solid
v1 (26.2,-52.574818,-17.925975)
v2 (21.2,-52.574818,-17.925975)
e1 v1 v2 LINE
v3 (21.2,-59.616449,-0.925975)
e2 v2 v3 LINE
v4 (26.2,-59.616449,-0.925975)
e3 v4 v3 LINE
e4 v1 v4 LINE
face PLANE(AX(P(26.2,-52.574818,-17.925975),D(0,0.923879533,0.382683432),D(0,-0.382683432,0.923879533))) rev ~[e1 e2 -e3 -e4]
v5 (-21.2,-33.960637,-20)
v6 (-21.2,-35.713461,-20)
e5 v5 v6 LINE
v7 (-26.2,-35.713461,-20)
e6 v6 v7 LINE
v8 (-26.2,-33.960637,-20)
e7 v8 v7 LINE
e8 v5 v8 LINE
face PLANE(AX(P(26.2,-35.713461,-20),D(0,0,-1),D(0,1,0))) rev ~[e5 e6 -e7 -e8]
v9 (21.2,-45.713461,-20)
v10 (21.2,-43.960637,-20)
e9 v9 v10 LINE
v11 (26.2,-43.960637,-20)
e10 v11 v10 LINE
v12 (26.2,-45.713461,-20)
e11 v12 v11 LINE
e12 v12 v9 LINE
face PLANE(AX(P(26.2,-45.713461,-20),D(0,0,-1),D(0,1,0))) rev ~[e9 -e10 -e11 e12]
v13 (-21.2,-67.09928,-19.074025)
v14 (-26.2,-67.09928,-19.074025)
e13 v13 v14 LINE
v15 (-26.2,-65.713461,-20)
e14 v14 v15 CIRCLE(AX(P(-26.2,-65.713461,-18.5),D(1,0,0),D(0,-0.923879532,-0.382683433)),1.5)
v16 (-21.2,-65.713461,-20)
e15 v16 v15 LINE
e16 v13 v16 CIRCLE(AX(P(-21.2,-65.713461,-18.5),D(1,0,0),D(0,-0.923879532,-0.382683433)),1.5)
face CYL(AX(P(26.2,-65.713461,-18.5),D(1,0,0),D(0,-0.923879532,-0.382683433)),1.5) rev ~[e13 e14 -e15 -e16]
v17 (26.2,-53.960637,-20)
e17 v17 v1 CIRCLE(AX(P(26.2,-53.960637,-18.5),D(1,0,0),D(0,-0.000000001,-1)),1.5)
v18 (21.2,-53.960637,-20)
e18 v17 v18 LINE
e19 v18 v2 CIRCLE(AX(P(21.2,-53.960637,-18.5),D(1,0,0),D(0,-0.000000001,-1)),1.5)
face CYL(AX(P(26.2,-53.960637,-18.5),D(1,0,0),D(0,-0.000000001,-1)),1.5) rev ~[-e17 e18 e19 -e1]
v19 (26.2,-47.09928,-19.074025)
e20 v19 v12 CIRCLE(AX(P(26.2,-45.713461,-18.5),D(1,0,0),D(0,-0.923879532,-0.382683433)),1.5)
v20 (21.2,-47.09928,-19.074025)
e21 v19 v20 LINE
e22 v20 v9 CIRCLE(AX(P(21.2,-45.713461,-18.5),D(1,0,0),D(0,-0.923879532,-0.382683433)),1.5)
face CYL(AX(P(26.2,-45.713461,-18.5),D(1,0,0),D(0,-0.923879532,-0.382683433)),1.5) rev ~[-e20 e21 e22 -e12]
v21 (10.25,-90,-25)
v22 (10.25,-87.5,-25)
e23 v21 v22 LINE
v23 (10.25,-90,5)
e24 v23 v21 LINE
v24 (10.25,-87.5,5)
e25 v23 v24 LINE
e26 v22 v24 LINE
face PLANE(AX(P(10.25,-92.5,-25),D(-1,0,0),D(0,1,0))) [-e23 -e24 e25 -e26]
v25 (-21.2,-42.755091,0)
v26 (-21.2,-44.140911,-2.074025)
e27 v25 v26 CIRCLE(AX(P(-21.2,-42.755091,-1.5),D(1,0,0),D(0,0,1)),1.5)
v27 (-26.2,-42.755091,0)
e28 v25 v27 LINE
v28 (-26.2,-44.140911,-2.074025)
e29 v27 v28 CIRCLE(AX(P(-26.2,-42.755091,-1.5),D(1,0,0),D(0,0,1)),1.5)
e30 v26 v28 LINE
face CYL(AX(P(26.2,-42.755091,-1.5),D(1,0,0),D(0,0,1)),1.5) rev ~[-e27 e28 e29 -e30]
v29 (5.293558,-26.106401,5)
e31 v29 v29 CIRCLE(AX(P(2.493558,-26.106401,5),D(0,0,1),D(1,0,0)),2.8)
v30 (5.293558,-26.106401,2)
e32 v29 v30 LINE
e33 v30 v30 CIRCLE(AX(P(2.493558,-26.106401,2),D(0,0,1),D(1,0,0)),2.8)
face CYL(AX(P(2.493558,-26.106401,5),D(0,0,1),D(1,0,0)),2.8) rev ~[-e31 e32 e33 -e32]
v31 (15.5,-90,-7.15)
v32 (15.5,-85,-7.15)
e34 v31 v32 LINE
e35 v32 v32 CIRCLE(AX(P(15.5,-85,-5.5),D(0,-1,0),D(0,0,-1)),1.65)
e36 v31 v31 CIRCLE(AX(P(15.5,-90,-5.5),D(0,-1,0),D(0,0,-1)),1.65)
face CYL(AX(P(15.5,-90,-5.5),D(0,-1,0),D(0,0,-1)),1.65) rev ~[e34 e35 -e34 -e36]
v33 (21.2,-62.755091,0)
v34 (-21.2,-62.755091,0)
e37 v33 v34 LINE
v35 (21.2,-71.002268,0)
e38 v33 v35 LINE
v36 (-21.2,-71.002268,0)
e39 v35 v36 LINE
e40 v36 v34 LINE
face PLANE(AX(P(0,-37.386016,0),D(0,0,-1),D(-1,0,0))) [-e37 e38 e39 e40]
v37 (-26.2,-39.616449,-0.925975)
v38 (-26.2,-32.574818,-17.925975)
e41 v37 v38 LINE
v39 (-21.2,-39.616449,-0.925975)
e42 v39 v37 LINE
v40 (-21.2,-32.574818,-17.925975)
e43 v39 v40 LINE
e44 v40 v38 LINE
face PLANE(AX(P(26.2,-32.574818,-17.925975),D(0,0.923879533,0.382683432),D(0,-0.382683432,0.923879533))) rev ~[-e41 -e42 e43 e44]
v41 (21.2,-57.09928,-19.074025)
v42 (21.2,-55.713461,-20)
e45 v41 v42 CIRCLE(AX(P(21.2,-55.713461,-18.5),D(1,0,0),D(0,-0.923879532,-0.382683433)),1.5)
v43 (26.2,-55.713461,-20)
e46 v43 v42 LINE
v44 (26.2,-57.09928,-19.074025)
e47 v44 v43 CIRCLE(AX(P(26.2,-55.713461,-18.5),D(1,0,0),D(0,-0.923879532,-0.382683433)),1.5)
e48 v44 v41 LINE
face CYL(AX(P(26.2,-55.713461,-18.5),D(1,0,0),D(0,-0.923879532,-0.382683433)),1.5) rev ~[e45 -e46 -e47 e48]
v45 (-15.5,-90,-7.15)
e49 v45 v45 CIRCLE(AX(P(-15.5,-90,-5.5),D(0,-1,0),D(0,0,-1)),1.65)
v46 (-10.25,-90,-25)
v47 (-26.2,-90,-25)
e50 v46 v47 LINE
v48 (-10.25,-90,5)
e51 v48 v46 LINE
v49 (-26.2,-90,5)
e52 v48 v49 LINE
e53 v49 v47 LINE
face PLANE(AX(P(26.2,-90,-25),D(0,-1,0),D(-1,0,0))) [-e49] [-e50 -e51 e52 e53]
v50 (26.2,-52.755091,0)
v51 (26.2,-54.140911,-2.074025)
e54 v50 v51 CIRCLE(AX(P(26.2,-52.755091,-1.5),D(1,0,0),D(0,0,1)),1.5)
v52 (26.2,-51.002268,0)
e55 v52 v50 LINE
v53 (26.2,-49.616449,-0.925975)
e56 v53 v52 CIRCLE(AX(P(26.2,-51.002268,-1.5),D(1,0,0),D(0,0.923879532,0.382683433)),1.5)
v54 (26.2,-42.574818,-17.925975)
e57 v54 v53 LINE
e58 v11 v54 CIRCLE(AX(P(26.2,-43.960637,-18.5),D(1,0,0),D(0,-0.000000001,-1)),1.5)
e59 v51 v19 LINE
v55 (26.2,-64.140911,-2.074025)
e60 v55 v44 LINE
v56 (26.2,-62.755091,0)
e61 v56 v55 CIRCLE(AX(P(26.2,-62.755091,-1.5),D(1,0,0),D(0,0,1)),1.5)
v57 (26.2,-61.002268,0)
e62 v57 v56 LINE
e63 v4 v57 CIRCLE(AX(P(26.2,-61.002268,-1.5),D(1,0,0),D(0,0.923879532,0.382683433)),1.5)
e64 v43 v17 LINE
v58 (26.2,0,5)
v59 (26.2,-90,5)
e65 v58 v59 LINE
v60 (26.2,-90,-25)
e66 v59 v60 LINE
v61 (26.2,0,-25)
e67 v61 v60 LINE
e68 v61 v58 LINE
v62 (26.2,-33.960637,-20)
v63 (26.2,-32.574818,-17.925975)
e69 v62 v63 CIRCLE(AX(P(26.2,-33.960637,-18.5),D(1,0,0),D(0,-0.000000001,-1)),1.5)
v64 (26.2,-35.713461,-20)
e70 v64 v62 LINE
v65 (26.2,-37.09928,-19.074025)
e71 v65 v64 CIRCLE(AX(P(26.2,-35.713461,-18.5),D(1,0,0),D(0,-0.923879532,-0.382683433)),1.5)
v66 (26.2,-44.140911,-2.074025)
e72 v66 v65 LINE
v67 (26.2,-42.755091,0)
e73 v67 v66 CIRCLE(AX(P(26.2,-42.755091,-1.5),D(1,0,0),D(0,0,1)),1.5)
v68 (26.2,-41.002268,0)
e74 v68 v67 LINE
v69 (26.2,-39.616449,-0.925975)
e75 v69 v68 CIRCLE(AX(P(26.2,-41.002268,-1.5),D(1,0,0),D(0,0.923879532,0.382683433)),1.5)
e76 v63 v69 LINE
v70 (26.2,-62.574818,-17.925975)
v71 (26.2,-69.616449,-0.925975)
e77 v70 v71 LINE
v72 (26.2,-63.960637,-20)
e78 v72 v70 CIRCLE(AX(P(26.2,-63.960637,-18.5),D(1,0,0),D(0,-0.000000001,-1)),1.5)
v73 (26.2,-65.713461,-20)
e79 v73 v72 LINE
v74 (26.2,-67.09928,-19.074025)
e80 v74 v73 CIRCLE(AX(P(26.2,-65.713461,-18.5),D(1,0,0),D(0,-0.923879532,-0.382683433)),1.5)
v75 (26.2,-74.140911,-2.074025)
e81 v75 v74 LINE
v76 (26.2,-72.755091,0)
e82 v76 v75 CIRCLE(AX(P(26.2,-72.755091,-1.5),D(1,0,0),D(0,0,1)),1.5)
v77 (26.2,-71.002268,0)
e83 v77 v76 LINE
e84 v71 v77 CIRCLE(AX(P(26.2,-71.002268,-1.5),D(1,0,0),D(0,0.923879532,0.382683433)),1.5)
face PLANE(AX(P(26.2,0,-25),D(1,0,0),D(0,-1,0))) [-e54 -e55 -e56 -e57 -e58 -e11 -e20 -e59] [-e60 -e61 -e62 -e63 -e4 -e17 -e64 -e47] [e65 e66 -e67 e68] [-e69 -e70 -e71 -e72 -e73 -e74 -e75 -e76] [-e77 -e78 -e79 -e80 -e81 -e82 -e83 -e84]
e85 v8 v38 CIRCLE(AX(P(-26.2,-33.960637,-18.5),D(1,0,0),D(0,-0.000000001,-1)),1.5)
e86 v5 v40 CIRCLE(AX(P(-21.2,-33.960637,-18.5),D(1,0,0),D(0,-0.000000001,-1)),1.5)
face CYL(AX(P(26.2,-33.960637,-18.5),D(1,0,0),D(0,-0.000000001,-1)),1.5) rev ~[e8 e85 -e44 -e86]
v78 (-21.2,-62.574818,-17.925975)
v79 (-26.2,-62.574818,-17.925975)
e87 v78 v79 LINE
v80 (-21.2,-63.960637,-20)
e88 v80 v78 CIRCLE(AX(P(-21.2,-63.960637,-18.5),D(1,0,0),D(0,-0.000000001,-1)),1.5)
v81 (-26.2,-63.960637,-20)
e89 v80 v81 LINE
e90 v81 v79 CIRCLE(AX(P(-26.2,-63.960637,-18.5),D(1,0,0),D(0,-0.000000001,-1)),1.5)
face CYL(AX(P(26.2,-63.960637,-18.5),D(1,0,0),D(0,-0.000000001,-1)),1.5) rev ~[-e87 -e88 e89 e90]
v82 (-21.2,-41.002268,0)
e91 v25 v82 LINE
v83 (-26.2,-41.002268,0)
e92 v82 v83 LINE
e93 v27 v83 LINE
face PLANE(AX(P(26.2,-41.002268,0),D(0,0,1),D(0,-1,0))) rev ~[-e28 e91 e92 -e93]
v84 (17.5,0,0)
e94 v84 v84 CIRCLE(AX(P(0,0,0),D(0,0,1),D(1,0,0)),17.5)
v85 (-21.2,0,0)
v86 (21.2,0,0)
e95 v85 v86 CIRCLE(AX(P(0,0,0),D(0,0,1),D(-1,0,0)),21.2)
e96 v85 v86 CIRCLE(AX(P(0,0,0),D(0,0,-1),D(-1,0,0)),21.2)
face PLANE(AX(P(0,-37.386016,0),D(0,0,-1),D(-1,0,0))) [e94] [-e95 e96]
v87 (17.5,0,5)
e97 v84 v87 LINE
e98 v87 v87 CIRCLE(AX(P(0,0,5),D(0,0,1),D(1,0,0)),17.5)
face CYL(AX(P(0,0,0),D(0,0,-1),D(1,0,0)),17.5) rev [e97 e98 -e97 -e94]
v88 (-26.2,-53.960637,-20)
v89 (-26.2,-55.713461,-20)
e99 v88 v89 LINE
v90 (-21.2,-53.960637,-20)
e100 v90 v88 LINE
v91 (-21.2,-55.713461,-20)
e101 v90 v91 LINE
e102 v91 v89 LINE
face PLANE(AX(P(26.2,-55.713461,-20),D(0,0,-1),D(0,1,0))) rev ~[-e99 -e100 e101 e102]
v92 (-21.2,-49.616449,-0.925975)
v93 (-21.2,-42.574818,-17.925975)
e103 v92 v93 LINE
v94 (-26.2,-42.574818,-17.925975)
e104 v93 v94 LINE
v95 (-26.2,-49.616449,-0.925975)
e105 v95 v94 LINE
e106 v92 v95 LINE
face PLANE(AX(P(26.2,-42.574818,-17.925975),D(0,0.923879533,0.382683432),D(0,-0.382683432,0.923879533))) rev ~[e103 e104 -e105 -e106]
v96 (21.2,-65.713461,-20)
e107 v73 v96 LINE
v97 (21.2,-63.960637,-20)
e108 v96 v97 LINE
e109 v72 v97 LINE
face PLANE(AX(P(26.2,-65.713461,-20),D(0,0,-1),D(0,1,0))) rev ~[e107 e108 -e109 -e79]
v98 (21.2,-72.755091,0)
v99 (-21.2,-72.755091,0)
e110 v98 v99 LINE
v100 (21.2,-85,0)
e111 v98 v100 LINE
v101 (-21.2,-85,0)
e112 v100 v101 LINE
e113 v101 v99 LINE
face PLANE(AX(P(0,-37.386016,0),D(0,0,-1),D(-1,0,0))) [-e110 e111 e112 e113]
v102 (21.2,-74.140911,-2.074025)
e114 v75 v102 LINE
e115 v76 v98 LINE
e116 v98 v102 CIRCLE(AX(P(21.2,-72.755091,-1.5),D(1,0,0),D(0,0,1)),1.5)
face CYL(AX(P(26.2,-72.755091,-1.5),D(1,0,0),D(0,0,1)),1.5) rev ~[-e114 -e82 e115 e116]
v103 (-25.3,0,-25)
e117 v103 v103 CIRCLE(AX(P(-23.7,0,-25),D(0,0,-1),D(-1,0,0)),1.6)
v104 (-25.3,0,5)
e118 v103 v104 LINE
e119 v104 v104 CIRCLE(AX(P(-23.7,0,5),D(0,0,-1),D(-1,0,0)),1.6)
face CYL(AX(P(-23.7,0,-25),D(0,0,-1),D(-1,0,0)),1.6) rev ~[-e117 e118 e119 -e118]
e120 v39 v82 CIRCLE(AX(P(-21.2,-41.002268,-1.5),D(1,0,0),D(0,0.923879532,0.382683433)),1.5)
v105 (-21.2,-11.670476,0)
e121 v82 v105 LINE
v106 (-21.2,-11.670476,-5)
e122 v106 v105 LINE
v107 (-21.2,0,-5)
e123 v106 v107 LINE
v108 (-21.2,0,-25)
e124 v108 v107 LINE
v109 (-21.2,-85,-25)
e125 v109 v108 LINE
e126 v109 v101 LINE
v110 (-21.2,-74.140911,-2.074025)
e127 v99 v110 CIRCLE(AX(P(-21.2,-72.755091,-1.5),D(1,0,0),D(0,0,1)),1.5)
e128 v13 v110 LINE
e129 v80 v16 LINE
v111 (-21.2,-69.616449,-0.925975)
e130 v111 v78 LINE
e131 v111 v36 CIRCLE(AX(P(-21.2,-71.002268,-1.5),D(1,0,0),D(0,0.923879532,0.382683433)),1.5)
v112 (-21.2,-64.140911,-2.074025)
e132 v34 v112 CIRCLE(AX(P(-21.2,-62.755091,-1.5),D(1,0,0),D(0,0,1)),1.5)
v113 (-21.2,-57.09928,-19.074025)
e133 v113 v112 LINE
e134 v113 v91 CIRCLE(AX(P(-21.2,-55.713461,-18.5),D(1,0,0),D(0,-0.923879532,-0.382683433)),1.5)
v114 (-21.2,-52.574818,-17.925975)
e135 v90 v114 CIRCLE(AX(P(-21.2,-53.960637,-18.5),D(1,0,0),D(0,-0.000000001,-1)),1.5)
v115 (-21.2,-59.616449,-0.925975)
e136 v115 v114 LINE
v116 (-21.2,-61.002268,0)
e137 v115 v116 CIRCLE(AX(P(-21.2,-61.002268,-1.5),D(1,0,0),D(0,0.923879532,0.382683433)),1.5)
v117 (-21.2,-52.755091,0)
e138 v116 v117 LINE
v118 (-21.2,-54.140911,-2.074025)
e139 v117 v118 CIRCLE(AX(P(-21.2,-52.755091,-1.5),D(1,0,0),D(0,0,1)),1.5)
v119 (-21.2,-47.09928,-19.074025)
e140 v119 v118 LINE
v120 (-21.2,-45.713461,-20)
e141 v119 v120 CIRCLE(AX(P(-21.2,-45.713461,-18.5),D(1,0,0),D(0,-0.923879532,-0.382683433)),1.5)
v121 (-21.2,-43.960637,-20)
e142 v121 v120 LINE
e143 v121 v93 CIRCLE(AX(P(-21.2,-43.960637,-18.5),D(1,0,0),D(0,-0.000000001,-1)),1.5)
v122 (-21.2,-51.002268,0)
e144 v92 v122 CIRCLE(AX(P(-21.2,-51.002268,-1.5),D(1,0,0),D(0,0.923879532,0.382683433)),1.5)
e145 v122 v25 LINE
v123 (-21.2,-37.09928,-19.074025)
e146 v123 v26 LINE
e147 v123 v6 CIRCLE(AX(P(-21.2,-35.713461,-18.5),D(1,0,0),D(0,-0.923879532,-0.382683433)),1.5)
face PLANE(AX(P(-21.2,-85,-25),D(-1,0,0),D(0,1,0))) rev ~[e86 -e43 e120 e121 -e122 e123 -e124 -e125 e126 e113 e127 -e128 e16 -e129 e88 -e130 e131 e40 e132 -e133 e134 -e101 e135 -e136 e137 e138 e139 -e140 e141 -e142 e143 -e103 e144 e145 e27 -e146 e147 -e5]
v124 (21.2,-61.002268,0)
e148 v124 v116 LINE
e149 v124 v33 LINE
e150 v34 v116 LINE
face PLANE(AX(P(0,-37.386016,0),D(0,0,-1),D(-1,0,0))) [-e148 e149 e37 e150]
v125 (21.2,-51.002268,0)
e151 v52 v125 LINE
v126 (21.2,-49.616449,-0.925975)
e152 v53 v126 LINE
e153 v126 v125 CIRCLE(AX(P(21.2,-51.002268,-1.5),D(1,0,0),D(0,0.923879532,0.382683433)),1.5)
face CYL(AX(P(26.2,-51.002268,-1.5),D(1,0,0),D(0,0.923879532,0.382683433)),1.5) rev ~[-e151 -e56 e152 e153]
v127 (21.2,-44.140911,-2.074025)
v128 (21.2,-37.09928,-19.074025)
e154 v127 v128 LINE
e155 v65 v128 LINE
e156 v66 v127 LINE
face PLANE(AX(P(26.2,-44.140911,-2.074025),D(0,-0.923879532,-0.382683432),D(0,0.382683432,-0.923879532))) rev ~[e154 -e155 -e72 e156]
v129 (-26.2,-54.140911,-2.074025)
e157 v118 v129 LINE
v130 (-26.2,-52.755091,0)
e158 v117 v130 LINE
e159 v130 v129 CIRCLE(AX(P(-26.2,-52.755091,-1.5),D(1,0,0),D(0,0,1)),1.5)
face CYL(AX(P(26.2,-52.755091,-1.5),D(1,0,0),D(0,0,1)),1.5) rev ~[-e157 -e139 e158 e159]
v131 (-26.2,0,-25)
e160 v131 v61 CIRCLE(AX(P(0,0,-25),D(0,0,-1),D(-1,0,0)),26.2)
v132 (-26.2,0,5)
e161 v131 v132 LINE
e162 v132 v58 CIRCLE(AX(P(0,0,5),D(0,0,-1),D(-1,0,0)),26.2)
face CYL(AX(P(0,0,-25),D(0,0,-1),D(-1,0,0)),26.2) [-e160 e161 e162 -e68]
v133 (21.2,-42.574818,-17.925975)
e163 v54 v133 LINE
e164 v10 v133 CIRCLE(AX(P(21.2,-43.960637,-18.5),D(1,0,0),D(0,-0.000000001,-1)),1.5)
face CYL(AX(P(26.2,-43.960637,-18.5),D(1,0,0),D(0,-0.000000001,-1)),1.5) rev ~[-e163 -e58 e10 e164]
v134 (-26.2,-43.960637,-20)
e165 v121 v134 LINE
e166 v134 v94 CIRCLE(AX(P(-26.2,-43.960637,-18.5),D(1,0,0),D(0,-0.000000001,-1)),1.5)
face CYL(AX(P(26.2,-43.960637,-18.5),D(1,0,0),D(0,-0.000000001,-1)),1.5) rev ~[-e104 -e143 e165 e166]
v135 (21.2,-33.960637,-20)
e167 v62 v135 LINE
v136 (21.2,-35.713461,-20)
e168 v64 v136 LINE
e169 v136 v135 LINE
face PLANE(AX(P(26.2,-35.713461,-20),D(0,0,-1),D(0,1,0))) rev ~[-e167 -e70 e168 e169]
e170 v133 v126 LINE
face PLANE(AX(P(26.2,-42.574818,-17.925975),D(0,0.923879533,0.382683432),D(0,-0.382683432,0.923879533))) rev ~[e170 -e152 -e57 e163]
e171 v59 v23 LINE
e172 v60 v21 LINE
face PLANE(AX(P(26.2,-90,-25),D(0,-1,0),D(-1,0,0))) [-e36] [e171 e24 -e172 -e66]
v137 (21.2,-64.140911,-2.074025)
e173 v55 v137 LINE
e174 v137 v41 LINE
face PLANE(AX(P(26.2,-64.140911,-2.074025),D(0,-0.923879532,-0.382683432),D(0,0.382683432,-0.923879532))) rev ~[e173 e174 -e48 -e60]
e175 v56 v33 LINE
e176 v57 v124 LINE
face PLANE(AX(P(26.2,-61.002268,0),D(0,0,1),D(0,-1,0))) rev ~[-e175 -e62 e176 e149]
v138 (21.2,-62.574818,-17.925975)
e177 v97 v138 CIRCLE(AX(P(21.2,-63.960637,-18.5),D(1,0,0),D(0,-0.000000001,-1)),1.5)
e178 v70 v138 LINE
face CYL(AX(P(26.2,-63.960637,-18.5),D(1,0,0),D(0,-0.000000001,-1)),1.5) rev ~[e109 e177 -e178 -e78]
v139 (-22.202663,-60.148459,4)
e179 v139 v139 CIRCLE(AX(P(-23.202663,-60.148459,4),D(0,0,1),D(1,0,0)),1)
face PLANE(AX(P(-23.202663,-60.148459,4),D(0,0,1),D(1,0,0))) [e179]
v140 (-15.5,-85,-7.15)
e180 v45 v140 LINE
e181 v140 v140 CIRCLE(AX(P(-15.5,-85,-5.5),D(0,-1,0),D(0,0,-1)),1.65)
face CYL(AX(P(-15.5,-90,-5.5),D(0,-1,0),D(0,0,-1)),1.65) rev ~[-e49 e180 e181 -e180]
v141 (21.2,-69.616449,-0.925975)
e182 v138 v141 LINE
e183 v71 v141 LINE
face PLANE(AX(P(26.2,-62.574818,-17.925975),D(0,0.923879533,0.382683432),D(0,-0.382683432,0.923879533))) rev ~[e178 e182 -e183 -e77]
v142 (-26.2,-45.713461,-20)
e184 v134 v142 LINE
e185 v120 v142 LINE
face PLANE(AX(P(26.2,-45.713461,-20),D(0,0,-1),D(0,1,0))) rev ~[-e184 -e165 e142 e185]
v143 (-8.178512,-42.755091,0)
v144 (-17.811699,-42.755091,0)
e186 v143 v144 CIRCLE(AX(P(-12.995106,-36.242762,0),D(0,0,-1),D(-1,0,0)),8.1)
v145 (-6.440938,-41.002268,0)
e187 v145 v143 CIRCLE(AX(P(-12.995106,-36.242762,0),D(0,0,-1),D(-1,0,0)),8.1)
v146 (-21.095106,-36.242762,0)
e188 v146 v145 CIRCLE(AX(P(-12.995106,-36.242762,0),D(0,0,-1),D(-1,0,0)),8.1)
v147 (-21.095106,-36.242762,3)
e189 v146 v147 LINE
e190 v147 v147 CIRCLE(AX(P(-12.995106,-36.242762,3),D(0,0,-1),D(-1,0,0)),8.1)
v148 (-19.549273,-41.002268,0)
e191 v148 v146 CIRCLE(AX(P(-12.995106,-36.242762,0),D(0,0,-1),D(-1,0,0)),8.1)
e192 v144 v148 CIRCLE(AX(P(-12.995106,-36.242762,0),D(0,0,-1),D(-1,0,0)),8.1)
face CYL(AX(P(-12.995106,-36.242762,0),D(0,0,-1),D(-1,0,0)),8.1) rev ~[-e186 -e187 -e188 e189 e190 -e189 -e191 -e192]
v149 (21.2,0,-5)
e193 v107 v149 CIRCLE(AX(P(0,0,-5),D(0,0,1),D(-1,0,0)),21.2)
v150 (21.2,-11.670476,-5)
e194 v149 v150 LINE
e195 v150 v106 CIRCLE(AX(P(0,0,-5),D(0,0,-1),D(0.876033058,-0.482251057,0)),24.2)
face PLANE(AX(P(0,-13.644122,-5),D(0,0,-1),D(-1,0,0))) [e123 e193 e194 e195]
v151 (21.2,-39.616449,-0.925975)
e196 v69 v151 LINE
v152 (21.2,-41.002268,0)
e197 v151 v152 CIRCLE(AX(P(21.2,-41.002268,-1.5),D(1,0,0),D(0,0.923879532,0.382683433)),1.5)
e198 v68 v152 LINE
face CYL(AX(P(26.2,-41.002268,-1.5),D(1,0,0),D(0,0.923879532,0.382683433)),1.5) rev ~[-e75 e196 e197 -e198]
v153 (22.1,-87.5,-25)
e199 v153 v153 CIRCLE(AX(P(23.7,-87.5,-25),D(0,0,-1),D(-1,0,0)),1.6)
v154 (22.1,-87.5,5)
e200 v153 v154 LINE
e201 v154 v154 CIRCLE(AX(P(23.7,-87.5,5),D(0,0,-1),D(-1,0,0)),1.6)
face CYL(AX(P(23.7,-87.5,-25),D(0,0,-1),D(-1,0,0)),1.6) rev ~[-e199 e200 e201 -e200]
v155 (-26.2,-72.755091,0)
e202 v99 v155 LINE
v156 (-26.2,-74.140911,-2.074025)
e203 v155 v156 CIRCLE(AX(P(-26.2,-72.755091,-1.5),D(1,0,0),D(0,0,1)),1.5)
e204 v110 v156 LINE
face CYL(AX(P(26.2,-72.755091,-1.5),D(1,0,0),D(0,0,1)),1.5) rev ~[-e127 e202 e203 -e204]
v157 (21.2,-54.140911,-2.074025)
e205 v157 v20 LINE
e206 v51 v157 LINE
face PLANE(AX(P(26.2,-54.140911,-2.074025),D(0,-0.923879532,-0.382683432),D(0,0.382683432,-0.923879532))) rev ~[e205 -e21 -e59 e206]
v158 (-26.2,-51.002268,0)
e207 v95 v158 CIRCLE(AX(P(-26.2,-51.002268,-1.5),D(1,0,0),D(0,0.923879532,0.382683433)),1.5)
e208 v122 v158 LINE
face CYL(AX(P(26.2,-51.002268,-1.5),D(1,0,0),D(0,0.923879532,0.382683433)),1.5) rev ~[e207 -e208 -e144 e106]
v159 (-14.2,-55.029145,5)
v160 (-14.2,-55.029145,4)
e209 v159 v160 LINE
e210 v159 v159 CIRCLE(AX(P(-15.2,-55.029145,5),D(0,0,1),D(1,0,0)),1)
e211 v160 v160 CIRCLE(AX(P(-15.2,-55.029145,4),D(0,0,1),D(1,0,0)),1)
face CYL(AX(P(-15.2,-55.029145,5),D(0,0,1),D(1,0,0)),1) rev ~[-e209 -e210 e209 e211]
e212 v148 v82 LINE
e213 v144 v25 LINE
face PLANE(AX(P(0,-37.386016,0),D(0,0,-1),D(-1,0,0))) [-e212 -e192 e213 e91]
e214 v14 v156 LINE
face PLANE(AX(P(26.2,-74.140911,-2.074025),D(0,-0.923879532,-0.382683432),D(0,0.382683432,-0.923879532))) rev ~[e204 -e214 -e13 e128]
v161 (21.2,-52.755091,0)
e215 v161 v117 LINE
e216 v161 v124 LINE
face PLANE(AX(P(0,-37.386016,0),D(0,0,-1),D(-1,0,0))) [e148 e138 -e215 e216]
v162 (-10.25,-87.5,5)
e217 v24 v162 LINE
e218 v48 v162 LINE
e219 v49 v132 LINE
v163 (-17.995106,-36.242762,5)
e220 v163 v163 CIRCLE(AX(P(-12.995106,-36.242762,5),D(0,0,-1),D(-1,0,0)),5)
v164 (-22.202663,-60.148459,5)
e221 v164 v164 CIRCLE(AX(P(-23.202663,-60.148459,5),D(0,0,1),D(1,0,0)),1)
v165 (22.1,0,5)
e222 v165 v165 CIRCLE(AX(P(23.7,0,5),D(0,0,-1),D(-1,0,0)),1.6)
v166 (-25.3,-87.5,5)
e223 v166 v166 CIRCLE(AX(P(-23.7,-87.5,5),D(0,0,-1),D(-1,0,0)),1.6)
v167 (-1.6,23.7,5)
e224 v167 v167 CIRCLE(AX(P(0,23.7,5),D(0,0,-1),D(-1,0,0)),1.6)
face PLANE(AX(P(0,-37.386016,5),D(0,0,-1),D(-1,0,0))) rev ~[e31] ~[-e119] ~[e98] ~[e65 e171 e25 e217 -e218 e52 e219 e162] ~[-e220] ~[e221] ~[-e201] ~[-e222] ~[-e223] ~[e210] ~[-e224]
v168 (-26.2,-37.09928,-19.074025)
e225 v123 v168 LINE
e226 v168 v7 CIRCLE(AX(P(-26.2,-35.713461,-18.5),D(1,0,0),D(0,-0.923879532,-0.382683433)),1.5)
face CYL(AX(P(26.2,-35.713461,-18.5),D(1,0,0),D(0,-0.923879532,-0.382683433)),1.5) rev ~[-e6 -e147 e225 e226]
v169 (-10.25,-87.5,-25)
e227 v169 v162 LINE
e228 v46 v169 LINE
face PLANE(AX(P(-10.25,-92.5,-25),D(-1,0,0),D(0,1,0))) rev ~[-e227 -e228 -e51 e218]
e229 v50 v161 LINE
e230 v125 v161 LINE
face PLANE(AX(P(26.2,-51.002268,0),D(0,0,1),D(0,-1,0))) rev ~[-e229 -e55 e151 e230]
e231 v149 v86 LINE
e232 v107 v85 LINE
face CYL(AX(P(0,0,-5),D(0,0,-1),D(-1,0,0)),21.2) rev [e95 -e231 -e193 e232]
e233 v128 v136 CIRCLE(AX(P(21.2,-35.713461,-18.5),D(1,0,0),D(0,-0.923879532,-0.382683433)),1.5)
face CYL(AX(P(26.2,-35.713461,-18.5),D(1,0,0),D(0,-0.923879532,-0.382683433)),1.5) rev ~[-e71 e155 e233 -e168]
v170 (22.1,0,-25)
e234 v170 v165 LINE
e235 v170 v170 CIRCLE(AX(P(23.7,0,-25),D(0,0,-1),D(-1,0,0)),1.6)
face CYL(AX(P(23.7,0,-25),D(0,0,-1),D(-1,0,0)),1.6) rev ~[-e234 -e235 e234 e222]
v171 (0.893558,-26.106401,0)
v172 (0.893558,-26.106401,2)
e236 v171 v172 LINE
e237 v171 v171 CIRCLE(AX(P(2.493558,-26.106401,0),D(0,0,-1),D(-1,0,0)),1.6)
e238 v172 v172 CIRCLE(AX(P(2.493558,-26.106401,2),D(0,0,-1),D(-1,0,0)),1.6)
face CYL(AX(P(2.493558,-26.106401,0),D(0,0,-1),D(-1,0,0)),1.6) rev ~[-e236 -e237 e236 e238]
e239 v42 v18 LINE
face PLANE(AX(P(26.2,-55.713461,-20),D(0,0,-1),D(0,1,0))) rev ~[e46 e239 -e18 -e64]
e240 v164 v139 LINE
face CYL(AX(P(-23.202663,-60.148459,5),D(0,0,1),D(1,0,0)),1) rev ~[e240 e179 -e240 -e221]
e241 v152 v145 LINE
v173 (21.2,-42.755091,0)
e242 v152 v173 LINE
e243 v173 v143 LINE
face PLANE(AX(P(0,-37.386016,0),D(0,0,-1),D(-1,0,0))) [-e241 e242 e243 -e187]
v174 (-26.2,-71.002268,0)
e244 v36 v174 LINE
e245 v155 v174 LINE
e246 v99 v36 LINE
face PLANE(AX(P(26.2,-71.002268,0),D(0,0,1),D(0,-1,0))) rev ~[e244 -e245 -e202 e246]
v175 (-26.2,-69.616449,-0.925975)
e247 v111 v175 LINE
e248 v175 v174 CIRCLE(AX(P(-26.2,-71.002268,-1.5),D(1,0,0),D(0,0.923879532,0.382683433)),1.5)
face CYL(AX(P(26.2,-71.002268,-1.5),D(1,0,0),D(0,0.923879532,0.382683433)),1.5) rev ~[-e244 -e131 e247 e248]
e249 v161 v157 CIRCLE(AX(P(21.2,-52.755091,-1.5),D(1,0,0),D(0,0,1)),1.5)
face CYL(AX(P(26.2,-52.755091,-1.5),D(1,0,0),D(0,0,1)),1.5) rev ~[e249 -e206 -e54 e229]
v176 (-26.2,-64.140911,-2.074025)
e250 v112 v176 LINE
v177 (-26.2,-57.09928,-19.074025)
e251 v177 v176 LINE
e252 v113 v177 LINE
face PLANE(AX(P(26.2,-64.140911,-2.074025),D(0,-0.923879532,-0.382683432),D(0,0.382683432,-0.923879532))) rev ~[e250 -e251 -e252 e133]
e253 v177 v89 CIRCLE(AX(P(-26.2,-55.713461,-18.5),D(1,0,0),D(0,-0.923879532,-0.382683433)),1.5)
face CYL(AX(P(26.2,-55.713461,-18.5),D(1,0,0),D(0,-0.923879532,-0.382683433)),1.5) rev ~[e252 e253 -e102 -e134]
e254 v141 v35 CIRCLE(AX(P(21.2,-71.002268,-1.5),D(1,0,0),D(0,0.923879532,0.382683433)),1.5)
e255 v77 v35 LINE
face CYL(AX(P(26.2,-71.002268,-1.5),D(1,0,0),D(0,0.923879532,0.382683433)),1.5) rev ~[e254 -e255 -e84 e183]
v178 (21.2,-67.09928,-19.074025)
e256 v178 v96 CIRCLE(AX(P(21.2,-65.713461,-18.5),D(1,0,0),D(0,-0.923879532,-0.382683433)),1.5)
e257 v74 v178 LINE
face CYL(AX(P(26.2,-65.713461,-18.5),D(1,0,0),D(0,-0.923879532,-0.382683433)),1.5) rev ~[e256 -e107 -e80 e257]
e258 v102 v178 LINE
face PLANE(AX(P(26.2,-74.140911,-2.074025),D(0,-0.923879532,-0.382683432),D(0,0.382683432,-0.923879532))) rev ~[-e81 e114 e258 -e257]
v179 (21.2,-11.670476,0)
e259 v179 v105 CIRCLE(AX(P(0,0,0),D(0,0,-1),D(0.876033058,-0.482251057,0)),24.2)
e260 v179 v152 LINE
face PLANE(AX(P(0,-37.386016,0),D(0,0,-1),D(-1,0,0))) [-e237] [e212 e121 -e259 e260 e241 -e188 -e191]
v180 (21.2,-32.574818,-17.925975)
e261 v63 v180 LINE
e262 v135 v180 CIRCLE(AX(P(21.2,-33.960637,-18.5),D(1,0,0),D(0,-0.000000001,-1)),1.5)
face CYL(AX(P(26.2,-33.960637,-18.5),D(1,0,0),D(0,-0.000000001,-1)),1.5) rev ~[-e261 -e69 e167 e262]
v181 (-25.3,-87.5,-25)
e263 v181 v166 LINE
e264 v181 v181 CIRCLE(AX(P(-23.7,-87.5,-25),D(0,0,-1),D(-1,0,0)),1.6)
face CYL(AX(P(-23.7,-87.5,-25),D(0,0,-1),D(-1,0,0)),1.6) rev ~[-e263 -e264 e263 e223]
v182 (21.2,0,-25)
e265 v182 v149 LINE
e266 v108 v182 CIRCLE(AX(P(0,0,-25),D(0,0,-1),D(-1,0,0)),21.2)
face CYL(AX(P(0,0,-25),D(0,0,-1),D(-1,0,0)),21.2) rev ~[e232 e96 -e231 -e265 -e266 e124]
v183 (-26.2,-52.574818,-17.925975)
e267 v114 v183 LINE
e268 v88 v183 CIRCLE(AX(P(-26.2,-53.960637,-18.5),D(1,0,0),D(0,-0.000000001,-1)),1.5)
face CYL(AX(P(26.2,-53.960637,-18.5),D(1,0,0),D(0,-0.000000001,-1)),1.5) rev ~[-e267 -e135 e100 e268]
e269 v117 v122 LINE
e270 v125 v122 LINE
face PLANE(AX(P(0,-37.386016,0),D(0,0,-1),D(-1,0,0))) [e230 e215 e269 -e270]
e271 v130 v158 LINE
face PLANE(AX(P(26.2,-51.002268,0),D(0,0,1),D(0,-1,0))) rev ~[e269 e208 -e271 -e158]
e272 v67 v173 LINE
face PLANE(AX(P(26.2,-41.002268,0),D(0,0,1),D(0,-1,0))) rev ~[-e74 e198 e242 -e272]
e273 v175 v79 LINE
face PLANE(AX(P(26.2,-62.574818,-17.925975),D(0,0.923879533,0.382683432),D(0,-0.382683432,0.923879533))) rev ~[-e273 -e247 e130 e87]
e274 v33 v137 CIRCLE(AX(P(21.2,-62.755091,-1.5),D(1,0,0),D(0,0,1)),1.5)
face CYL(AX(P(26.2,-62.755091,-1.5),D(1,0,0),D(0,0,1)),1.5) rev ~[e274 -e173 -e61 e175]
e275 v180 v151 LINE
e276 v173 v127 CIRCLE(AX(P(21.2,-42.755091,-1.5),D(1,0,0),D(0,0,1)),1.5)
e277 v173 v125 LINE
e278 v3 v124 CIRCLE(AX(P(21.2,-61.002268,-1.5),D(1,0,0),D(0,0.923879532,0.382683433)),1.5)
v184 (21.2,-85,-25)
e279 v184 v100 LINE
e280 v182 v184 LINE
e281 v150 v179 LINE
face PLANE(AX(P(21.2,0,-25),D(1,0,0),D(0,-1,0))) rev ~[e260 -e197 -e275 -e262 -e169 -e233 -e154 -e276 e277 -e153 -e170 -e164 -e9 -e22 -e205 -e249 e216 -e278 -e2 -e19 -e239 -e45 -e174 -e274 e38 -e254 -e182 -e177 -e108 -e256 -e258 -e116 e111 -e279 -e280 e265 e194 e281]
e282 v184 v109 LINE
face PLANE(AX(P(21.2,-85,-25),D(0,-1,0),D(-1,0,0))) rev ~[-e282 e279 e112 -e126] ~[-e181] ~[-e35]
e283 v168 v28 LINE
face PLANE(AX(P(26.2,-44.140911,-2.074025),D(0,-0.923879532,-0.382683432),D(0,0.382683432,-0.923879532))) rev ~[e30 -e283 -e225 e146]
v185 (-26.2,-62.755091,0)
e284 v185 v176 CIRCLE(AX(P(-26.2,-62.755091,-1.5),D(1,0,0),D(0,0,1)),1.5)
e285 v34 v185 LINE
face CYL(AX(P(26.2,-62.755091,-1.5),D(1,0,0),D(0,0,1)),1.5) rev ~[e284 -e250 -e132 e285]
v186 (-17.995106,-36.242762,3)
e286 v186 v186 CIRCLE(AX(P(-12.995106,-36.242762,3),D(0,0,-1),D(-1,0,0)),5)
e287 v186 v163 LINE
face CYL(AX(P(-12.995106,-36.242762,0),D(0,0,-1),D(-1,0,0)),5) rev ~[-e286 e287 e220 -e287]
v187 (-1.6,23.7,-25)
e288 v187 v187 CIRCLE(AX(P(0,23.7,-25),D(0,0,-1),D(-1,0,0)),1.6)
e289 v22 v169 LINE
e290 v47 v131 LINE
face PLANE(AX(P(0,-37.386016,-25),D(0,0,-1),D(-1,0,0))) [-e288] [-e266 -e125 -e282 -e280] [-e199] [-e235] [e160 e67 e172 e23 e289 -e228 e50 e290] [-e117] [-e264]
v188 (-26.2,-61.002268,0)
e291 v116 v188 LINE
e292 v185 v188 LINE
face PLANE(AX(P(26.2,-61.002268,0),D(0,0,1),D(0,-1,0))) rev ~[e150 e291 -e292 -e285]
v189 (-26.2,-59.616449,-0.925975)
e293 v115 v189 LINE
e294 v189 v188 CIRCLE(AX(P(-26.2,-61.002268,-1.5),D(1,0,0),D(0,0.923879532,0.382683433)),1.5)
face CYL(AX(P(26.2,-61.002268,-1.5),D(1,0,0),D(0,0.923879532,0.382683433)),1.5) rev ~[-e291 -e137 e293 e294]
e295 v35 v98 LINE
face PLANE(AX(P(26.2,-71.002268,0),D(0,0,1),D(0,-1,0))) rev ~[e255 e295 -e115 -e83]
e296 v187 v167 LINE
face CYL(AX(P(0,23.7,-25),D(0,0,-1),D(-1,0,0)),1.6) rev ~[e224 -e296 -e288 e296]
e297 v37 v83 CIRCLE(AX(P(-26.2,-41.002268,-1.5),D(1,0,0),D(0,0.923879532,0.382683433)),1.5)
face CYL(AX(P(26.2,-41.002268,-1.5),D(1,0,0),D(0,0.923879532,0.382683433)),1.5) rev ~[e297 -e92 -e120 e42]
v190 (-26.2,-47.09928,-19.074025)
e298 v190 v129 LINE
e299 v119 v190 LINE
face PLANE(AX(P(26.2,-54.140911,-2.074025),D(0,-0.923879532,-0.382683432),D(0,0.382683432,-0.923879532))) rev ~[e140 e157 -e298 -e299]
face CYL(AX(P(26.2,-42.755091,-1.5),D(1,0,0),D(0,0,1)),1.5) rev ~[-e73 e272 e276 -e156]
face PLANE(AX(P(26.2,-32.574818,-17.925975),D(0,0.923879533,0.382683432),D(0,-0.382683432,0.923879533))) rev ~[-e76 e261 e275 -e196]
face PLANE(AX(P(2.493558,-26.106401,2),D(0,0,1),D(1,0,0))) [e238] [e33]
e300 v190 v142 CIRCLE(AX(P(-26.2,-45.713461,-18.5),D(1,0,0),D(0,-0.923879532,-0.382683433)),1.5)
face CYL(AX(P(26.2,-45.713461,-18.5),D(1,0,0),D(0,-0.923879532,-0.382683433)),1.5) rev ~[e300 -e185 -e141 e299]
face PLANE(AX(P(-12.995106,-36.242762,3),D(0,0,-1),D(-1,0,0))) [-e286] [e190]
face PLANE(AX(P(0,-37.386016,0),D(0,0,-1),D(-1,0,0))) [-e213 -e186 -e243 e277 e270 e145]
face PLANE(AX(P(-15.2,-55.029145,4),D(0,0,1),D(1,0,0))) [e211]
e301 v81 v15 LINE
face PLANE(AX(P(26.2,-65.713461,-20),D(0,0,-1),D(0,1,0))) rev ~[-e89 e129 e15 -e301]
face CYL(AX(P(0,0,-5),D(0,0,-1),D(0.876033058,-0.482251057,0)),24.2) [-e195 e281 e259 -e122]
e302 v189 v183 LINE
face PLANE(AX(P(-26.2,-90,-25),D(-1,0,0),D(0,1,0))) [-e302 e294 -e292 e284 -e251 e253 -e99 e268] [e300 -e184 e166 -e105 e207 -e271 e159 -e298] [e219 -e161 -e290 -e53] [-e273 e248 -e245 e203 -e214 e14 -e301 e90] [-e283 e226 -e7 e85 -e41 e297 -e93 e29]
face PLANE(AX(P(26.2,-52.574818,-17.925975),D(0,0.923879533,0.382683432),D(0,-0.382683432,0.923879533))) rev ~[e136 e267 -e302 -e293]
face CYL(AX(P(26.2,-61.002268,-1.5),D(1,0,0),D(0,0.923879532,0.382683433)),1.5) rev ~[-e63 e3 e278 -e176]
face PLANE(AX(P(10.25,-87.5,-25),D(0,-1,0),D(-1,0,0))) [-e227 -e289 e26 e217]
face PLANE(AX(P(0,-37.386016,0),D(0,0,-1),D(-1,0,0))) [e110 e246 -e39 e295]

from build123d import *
from build123d.topology import SkipClean

# Parameters (mm, degrees)
SKETCH1_R           = 21.2
SKETCH1_R_2         = 17.5
BOSS_EXTRUDE1_DEPTH = 5
BOSS_EXTRUDE2_START = -5
SKETCH2_R           = 21.2
BOSS_EXTRUDE2_DEPTH = 5
BOSS_EXTRUDE3_START = 25
BOSS_EXTRUDE3_DEPTH = 25
SKETCH5_R           = 5
CUT_EXTRUDE1_DEPTH  = 98.012576504
SKETCH7_R           = 8.1
CUT_EXTRUDE2_DEPTH  = 3
SKETCH10_R          = 1.65
CUT_EXTRUDE3_DEPTH  = 23
SKETCH11_R          = 1.6
CUT_EXTRUDE4_DEPTH  = 33
SKETCH12_W          = 20.5
SKETCH12_H          = 5
CUT_EXTRUDE5_DEPTH  = 99.419713472
SKETCH13_R          = 1.6
CUT_EXTRUDE6_DEPTH  = 98.012576504
SKETCH14_R          = 2.8
CUT_EXTRUDE7_DEPTH  = 3
BOSS_EXTRUDE4_START = 5
BOSS_EXTRUDE4_DEPTH = 5
CUT_EXTRUDE9_DEPTH  = 108.101633974
SKETCH23_R          = 1
CUT_EXTRUDE11_DEPTH = 1


with BuildPart() as part:
    # Sketch1 → Boss-Extrude1 (new body)
    with BuildSketch(Plane.XY):
        Circle(SKETCH1_R)
        Circle(SKETCH1_R_2, mode=Mode.SUBTRACT)
    extrude(amount=BOSS_EXTRUDE1_DEPTH)

    # Sketch2 → Boss-Extrude2 (add)
    with BuildSketch(Plane.XY.offset(5).offset(BOSS_EXTRUDE2_START)):
        with BuildLine():
            Line((26.2, 0), (26.2, -90))
            Line((26.2, -90), (-26.2, -90))
            Line((-26.2, -90), (-26.2, 0))
            ThreePointArc((-26.2, 0), (0, 26.2), (26.2, 0))
        make_face()
        Circle(SKETCH2_R, mode=Mode.SUBTRACT)
    extrude(amount=BOSS_EXTRUDE2_DEPTH)

    # Sketch4 → Boss-Extrude3 (add)
    with BuildSketch(Plane(origin=(0, 0, 0), x_dir=(-1, 0, 0), z_dir=(0, 0, -1)).offset(BOSS_EXTRUDE3_START)):
        with BuildLine():
            Line((-26.2, 0), (-26.2, -90))
            Line((-26.2, -90), (26.2, -90))
            Line((26.2, -90), (26.2, 0))
            ThreePointArc((26.2, 0), (0, 26.2), (-26.2, 0))
        make_face()
        with BuildLine():
            Line((-21.2, 0), (-21.2, -85))
            Line((-21.2, -85), (21.2, -85))
            Line((21.2, -85), (21.2, 0))
            ThreePointArc((21.2, 0), (0, 21.2), (-21.2, 0))
        make_face(mode=Mode.SUBTRACT)
    extrude(amount=-BOSS_EXTRUDE3_DEPTH)

    # Sketch5 → Cut-Extrude1 (cut, through all)
    with BuildSketch(Plane(origin=(0, 0, 0), x_dir=(-1, 0, 0), z_dir=(0, 0, -1))):
        with Locations((12.995105527, -36.242762456)):
            Circle(SKETCH5_R)
    extrude(amount=-CUT_EXTRUDE1_DEPTH, mode=Mode.SUBTRACT)

    # Sketch7 → Cut-Extrude2 (cut)
    with BuildSketch(Plane(origin=(0, 0, 0), x_dir=(-1, 0, 0), z_dir=(0, 0, -1))):
        with Locations((12.995105527, -36.242762456)):
            Circle(SKETCH7_R)
    extrude(amount=-CUT_EXTRUDE2_DEPTH, mode=Mode.SUBTRACT)

    # Sketch10 → Cut-Extrude3 (cut)
    with BuildSketch(Plane.XZ.offset(90)):
        with Locations(Location((15.5, -5.5, 0), (0, 0, 270))):
            Circle(SKETCH10_R)
        with Locations((15.5, -36.5)):
            Circle(SKETCH10_R)
        with Locations((-15.5, -36.5)):
            Circle(SKETCH10_R)
        with Locations(Location((-15.5, -5.5, 0), (0, 0, 270))):
            Circle(SKETCH10_R)
    extrude(amount=-CUT_EXTRUDE3_DEPTH, mode=Mode.SUBTRACT)

    # Sketch11 → Cut-Extrude4 (cut)
    with BuildSketch(Plane(origin=(0, 0, -25), x_dir=(-1, 0, 0), z_dir=(0, 0, -1))):
        with Locations((-23.7, -87.5)):
            Circle(SKETCH11_R)
        with Locations((23.7, -87.5)):
            Circle(SKETCH11_R)
        with Locations((0, 23.7)):
            Circle(SKETCH11_R)
        with Locations((23.7, 0)):
            Circle(SKETCH11_R)
        with Locations((-23.7, 0)):
            Circle(SKETCH11_R)
    extrude(amount=-CUT_EXTRUDE4_DEPTH, mode=Mode.SUBTRACT)

    # Sketch12 → Cut-Extrude5 (cut, through all)
    with BuildSketch(Plane(origin=(0, 0, -25), x_dir=(-1, 0, 0), z_dir=(0, 0, -1))):
        with Locations((0, -90)):
            Rectangle(SKETCH12_W, SKETCH12_H)
    extrude(amount=-CUT_EXTRUDE5_DEPTH, mode=Mode.SUBTRACT)

    # Sketch13 → Cut-Extrude6 (cut, through all)
    with BuildSketch(Plane(origin=(0, 0, 0), x_dir=(-1, 0, 0), z_dir=(0, 0, -1))):
        with Locations((-2.493558329, -26.106401349)):
            Circle(SKETCH13_R)
    extrude(amount=-CUT_EXTRUDE6_DEPTH, mode=Mode.SUBTRACT)

    # Sketch14 → Cut-Extrude7 (cut)
    with BuildSketch(Plane.XY.offset(5)):
        with Locations((2.493558329, -26.106401349)):
            Circle(SKETCH14_R)
    extrude(amount=-CUT_EXTRUDE7_DEPTH, mode=Mode.SUBTRACT)

    # Sketch15 → Boss-Extrude4 (add)
    with SkipClean():  # the faces are left unmerged after this step: merging them gives an invalid solid
        with BuildSketch(Plane(origin=(0, 0, 0), x_dir=(-1, 0, 0), z_dir=(0, 0, -1)).offset(BOSS_EXTRUDE4_START)):
            with BuildLine():
                Line((21.2, -11.670475569), (21.2, 0))
                ThreePointArc((21.2, 0), (0, -21.2), (-21.2, 0))
                Line((-21.2, 0), (-21.2, -11.670475569))
                ThreePointArc((-21.2, -11.670475569), (0, -24.2), (21.2, -11.670475569))
            make_face()
        extrude(amount=-BOSS_EXTRUDE4_DEPTH)

    # Sketch19 → Cut-Extrude9 (cut, through all)
    with SkipClean():  # the faces are left unmerged after this step: merging them gives an invalid solid
        with BuildSketch(Plane(origin=(26.2, 0, 0), x_dir=(0, 0, -1), z_dir=(1, 0, 0))):
            with BuildLine():
                Line((0, -61.002267957), (0, -62.755091356))
                ThreePointArc((0, -62.755091356), (0.66664465, -64.002295774), (2.074025149, -64.140910655))
                Line((2.074025149, -64.140910655), (19.074025149, -57.099280094))
                ThreePointArc((19.074025149, -57.099280094), (19.747204418, -56.546816145), (20, -55.713460796))
                Line((20, -55.713460796), (20, -53.960637397))
                ThreePointArc((20, -53.960637397), (19.33335535, -52.713432978), (17.925974851, -52.574818098))
                Line((17.925974851, -52.574818098), (0.925974851, -59.616448658))
                ThreePointArc((0.925974851, -59.616448658), (0.252795582, -60.168912607), (0, -61.002267957))
            make_face()
            with BuildLine():
                Line((0, -71.002267957), (0, -72.755091356))
                ThreePointArc((0, -72.755091356), (0.66664465, -74.002295774), (2.074025149, -74.140910655))
                Line((2.074025149, -74.140910655), (19.074025149, -67.099280094))
                ThreePointArc((19.074025149, -67.099280094), (19.747204418, -66.546816145), (20, -65.713460796))
                Line((20, -65.713460796), (20, -63.960637397))
                ThreePointArc((20, -63.960637397), (19.33335535, -62.713432978), (17.925974851, -62.574818098))
                Line((17.925974851, -62.574818098), (0.925974851, -69.616448658))
                ThreePointArc((0.925974851, -69.616448658), (0.252795582, -70.168912607), (0, -71.002267957))
            make_face()
            with BuildLine():
                Line((0, -51.002267957), (0, -52.755091356))
                ThreePointArc((0, -52.755091356), (0.66664465, -54.002295774), (2.074025149, -54.140910655))
                Line((2.074025149, -54.140910655), (19.074025149, -47.099280094))
                ThreePointArc((19.074025149, -47.099280094), (19.747204418, -46.546816145), (20, -45.713460796))
                Line((20, -45.713460796), (20, -43.960637397))
                ThreePointArc((20, -43.960637397), (19.33335535, -42.713432978), (17.925974851, -42.574818098))
                Line((17.925974851, -42.574818098), (0.925974851, -49.616448658))
                ThreePointArc((0.925974851, -49.616448658), (0.252795582, -50.168912607), (0, -51.002267957))
            make_face()
            with BuildLine():
                Line((0, -41.002267957), (0, -42.755091356))
                ThreePointArc((0, -42.755091356), (0.66664465, -44.002295774), (2.074025149, -44.140910655))
                Line((2.074025149, -44.140910655), (19.074025149, -37.099280094))
                ThreePointArc((19.074025149, -37.099280094), (19.747204418, -36.546816145), (20, -35.713460796))
                Line((20, -35.713460796), (20, -33.960637397))
                ThreePointArc((20, -33.960637397), (19.33335535, -32.713432978), (17.925974851, -32.574818098))
                Line((17.925974851, -32.574818098), (0.925974851, -39.616448658))
                ThreePointArc((0.925974851, -39.616448658), (0.252795582, -40.168912607), (0, -41.002267957))
            make_face()
        extrude(amount=-CUT_EXTRUDE9_DEPTH, mode=Mode.SUBTRACT)

    # Sketch23 → Cut-Extrude11 (cut)
    with SkipClean():  # the faces are left unmerged after this step: merging them gives an invalid solid
        with BuildSketch(Plane.XY.offset(5)):
            with Locations((-15.2, -55.029144675)):
                Circle(SKETCH23_R)
            with Locations((-23.202663328, -60.148459048)):
                Circle(SKETCH23_R)
        extrude(amount=-CUT_EXTRUDE11_DEPTH, mode=Mode.SUBTRACT)


solid = part.part
